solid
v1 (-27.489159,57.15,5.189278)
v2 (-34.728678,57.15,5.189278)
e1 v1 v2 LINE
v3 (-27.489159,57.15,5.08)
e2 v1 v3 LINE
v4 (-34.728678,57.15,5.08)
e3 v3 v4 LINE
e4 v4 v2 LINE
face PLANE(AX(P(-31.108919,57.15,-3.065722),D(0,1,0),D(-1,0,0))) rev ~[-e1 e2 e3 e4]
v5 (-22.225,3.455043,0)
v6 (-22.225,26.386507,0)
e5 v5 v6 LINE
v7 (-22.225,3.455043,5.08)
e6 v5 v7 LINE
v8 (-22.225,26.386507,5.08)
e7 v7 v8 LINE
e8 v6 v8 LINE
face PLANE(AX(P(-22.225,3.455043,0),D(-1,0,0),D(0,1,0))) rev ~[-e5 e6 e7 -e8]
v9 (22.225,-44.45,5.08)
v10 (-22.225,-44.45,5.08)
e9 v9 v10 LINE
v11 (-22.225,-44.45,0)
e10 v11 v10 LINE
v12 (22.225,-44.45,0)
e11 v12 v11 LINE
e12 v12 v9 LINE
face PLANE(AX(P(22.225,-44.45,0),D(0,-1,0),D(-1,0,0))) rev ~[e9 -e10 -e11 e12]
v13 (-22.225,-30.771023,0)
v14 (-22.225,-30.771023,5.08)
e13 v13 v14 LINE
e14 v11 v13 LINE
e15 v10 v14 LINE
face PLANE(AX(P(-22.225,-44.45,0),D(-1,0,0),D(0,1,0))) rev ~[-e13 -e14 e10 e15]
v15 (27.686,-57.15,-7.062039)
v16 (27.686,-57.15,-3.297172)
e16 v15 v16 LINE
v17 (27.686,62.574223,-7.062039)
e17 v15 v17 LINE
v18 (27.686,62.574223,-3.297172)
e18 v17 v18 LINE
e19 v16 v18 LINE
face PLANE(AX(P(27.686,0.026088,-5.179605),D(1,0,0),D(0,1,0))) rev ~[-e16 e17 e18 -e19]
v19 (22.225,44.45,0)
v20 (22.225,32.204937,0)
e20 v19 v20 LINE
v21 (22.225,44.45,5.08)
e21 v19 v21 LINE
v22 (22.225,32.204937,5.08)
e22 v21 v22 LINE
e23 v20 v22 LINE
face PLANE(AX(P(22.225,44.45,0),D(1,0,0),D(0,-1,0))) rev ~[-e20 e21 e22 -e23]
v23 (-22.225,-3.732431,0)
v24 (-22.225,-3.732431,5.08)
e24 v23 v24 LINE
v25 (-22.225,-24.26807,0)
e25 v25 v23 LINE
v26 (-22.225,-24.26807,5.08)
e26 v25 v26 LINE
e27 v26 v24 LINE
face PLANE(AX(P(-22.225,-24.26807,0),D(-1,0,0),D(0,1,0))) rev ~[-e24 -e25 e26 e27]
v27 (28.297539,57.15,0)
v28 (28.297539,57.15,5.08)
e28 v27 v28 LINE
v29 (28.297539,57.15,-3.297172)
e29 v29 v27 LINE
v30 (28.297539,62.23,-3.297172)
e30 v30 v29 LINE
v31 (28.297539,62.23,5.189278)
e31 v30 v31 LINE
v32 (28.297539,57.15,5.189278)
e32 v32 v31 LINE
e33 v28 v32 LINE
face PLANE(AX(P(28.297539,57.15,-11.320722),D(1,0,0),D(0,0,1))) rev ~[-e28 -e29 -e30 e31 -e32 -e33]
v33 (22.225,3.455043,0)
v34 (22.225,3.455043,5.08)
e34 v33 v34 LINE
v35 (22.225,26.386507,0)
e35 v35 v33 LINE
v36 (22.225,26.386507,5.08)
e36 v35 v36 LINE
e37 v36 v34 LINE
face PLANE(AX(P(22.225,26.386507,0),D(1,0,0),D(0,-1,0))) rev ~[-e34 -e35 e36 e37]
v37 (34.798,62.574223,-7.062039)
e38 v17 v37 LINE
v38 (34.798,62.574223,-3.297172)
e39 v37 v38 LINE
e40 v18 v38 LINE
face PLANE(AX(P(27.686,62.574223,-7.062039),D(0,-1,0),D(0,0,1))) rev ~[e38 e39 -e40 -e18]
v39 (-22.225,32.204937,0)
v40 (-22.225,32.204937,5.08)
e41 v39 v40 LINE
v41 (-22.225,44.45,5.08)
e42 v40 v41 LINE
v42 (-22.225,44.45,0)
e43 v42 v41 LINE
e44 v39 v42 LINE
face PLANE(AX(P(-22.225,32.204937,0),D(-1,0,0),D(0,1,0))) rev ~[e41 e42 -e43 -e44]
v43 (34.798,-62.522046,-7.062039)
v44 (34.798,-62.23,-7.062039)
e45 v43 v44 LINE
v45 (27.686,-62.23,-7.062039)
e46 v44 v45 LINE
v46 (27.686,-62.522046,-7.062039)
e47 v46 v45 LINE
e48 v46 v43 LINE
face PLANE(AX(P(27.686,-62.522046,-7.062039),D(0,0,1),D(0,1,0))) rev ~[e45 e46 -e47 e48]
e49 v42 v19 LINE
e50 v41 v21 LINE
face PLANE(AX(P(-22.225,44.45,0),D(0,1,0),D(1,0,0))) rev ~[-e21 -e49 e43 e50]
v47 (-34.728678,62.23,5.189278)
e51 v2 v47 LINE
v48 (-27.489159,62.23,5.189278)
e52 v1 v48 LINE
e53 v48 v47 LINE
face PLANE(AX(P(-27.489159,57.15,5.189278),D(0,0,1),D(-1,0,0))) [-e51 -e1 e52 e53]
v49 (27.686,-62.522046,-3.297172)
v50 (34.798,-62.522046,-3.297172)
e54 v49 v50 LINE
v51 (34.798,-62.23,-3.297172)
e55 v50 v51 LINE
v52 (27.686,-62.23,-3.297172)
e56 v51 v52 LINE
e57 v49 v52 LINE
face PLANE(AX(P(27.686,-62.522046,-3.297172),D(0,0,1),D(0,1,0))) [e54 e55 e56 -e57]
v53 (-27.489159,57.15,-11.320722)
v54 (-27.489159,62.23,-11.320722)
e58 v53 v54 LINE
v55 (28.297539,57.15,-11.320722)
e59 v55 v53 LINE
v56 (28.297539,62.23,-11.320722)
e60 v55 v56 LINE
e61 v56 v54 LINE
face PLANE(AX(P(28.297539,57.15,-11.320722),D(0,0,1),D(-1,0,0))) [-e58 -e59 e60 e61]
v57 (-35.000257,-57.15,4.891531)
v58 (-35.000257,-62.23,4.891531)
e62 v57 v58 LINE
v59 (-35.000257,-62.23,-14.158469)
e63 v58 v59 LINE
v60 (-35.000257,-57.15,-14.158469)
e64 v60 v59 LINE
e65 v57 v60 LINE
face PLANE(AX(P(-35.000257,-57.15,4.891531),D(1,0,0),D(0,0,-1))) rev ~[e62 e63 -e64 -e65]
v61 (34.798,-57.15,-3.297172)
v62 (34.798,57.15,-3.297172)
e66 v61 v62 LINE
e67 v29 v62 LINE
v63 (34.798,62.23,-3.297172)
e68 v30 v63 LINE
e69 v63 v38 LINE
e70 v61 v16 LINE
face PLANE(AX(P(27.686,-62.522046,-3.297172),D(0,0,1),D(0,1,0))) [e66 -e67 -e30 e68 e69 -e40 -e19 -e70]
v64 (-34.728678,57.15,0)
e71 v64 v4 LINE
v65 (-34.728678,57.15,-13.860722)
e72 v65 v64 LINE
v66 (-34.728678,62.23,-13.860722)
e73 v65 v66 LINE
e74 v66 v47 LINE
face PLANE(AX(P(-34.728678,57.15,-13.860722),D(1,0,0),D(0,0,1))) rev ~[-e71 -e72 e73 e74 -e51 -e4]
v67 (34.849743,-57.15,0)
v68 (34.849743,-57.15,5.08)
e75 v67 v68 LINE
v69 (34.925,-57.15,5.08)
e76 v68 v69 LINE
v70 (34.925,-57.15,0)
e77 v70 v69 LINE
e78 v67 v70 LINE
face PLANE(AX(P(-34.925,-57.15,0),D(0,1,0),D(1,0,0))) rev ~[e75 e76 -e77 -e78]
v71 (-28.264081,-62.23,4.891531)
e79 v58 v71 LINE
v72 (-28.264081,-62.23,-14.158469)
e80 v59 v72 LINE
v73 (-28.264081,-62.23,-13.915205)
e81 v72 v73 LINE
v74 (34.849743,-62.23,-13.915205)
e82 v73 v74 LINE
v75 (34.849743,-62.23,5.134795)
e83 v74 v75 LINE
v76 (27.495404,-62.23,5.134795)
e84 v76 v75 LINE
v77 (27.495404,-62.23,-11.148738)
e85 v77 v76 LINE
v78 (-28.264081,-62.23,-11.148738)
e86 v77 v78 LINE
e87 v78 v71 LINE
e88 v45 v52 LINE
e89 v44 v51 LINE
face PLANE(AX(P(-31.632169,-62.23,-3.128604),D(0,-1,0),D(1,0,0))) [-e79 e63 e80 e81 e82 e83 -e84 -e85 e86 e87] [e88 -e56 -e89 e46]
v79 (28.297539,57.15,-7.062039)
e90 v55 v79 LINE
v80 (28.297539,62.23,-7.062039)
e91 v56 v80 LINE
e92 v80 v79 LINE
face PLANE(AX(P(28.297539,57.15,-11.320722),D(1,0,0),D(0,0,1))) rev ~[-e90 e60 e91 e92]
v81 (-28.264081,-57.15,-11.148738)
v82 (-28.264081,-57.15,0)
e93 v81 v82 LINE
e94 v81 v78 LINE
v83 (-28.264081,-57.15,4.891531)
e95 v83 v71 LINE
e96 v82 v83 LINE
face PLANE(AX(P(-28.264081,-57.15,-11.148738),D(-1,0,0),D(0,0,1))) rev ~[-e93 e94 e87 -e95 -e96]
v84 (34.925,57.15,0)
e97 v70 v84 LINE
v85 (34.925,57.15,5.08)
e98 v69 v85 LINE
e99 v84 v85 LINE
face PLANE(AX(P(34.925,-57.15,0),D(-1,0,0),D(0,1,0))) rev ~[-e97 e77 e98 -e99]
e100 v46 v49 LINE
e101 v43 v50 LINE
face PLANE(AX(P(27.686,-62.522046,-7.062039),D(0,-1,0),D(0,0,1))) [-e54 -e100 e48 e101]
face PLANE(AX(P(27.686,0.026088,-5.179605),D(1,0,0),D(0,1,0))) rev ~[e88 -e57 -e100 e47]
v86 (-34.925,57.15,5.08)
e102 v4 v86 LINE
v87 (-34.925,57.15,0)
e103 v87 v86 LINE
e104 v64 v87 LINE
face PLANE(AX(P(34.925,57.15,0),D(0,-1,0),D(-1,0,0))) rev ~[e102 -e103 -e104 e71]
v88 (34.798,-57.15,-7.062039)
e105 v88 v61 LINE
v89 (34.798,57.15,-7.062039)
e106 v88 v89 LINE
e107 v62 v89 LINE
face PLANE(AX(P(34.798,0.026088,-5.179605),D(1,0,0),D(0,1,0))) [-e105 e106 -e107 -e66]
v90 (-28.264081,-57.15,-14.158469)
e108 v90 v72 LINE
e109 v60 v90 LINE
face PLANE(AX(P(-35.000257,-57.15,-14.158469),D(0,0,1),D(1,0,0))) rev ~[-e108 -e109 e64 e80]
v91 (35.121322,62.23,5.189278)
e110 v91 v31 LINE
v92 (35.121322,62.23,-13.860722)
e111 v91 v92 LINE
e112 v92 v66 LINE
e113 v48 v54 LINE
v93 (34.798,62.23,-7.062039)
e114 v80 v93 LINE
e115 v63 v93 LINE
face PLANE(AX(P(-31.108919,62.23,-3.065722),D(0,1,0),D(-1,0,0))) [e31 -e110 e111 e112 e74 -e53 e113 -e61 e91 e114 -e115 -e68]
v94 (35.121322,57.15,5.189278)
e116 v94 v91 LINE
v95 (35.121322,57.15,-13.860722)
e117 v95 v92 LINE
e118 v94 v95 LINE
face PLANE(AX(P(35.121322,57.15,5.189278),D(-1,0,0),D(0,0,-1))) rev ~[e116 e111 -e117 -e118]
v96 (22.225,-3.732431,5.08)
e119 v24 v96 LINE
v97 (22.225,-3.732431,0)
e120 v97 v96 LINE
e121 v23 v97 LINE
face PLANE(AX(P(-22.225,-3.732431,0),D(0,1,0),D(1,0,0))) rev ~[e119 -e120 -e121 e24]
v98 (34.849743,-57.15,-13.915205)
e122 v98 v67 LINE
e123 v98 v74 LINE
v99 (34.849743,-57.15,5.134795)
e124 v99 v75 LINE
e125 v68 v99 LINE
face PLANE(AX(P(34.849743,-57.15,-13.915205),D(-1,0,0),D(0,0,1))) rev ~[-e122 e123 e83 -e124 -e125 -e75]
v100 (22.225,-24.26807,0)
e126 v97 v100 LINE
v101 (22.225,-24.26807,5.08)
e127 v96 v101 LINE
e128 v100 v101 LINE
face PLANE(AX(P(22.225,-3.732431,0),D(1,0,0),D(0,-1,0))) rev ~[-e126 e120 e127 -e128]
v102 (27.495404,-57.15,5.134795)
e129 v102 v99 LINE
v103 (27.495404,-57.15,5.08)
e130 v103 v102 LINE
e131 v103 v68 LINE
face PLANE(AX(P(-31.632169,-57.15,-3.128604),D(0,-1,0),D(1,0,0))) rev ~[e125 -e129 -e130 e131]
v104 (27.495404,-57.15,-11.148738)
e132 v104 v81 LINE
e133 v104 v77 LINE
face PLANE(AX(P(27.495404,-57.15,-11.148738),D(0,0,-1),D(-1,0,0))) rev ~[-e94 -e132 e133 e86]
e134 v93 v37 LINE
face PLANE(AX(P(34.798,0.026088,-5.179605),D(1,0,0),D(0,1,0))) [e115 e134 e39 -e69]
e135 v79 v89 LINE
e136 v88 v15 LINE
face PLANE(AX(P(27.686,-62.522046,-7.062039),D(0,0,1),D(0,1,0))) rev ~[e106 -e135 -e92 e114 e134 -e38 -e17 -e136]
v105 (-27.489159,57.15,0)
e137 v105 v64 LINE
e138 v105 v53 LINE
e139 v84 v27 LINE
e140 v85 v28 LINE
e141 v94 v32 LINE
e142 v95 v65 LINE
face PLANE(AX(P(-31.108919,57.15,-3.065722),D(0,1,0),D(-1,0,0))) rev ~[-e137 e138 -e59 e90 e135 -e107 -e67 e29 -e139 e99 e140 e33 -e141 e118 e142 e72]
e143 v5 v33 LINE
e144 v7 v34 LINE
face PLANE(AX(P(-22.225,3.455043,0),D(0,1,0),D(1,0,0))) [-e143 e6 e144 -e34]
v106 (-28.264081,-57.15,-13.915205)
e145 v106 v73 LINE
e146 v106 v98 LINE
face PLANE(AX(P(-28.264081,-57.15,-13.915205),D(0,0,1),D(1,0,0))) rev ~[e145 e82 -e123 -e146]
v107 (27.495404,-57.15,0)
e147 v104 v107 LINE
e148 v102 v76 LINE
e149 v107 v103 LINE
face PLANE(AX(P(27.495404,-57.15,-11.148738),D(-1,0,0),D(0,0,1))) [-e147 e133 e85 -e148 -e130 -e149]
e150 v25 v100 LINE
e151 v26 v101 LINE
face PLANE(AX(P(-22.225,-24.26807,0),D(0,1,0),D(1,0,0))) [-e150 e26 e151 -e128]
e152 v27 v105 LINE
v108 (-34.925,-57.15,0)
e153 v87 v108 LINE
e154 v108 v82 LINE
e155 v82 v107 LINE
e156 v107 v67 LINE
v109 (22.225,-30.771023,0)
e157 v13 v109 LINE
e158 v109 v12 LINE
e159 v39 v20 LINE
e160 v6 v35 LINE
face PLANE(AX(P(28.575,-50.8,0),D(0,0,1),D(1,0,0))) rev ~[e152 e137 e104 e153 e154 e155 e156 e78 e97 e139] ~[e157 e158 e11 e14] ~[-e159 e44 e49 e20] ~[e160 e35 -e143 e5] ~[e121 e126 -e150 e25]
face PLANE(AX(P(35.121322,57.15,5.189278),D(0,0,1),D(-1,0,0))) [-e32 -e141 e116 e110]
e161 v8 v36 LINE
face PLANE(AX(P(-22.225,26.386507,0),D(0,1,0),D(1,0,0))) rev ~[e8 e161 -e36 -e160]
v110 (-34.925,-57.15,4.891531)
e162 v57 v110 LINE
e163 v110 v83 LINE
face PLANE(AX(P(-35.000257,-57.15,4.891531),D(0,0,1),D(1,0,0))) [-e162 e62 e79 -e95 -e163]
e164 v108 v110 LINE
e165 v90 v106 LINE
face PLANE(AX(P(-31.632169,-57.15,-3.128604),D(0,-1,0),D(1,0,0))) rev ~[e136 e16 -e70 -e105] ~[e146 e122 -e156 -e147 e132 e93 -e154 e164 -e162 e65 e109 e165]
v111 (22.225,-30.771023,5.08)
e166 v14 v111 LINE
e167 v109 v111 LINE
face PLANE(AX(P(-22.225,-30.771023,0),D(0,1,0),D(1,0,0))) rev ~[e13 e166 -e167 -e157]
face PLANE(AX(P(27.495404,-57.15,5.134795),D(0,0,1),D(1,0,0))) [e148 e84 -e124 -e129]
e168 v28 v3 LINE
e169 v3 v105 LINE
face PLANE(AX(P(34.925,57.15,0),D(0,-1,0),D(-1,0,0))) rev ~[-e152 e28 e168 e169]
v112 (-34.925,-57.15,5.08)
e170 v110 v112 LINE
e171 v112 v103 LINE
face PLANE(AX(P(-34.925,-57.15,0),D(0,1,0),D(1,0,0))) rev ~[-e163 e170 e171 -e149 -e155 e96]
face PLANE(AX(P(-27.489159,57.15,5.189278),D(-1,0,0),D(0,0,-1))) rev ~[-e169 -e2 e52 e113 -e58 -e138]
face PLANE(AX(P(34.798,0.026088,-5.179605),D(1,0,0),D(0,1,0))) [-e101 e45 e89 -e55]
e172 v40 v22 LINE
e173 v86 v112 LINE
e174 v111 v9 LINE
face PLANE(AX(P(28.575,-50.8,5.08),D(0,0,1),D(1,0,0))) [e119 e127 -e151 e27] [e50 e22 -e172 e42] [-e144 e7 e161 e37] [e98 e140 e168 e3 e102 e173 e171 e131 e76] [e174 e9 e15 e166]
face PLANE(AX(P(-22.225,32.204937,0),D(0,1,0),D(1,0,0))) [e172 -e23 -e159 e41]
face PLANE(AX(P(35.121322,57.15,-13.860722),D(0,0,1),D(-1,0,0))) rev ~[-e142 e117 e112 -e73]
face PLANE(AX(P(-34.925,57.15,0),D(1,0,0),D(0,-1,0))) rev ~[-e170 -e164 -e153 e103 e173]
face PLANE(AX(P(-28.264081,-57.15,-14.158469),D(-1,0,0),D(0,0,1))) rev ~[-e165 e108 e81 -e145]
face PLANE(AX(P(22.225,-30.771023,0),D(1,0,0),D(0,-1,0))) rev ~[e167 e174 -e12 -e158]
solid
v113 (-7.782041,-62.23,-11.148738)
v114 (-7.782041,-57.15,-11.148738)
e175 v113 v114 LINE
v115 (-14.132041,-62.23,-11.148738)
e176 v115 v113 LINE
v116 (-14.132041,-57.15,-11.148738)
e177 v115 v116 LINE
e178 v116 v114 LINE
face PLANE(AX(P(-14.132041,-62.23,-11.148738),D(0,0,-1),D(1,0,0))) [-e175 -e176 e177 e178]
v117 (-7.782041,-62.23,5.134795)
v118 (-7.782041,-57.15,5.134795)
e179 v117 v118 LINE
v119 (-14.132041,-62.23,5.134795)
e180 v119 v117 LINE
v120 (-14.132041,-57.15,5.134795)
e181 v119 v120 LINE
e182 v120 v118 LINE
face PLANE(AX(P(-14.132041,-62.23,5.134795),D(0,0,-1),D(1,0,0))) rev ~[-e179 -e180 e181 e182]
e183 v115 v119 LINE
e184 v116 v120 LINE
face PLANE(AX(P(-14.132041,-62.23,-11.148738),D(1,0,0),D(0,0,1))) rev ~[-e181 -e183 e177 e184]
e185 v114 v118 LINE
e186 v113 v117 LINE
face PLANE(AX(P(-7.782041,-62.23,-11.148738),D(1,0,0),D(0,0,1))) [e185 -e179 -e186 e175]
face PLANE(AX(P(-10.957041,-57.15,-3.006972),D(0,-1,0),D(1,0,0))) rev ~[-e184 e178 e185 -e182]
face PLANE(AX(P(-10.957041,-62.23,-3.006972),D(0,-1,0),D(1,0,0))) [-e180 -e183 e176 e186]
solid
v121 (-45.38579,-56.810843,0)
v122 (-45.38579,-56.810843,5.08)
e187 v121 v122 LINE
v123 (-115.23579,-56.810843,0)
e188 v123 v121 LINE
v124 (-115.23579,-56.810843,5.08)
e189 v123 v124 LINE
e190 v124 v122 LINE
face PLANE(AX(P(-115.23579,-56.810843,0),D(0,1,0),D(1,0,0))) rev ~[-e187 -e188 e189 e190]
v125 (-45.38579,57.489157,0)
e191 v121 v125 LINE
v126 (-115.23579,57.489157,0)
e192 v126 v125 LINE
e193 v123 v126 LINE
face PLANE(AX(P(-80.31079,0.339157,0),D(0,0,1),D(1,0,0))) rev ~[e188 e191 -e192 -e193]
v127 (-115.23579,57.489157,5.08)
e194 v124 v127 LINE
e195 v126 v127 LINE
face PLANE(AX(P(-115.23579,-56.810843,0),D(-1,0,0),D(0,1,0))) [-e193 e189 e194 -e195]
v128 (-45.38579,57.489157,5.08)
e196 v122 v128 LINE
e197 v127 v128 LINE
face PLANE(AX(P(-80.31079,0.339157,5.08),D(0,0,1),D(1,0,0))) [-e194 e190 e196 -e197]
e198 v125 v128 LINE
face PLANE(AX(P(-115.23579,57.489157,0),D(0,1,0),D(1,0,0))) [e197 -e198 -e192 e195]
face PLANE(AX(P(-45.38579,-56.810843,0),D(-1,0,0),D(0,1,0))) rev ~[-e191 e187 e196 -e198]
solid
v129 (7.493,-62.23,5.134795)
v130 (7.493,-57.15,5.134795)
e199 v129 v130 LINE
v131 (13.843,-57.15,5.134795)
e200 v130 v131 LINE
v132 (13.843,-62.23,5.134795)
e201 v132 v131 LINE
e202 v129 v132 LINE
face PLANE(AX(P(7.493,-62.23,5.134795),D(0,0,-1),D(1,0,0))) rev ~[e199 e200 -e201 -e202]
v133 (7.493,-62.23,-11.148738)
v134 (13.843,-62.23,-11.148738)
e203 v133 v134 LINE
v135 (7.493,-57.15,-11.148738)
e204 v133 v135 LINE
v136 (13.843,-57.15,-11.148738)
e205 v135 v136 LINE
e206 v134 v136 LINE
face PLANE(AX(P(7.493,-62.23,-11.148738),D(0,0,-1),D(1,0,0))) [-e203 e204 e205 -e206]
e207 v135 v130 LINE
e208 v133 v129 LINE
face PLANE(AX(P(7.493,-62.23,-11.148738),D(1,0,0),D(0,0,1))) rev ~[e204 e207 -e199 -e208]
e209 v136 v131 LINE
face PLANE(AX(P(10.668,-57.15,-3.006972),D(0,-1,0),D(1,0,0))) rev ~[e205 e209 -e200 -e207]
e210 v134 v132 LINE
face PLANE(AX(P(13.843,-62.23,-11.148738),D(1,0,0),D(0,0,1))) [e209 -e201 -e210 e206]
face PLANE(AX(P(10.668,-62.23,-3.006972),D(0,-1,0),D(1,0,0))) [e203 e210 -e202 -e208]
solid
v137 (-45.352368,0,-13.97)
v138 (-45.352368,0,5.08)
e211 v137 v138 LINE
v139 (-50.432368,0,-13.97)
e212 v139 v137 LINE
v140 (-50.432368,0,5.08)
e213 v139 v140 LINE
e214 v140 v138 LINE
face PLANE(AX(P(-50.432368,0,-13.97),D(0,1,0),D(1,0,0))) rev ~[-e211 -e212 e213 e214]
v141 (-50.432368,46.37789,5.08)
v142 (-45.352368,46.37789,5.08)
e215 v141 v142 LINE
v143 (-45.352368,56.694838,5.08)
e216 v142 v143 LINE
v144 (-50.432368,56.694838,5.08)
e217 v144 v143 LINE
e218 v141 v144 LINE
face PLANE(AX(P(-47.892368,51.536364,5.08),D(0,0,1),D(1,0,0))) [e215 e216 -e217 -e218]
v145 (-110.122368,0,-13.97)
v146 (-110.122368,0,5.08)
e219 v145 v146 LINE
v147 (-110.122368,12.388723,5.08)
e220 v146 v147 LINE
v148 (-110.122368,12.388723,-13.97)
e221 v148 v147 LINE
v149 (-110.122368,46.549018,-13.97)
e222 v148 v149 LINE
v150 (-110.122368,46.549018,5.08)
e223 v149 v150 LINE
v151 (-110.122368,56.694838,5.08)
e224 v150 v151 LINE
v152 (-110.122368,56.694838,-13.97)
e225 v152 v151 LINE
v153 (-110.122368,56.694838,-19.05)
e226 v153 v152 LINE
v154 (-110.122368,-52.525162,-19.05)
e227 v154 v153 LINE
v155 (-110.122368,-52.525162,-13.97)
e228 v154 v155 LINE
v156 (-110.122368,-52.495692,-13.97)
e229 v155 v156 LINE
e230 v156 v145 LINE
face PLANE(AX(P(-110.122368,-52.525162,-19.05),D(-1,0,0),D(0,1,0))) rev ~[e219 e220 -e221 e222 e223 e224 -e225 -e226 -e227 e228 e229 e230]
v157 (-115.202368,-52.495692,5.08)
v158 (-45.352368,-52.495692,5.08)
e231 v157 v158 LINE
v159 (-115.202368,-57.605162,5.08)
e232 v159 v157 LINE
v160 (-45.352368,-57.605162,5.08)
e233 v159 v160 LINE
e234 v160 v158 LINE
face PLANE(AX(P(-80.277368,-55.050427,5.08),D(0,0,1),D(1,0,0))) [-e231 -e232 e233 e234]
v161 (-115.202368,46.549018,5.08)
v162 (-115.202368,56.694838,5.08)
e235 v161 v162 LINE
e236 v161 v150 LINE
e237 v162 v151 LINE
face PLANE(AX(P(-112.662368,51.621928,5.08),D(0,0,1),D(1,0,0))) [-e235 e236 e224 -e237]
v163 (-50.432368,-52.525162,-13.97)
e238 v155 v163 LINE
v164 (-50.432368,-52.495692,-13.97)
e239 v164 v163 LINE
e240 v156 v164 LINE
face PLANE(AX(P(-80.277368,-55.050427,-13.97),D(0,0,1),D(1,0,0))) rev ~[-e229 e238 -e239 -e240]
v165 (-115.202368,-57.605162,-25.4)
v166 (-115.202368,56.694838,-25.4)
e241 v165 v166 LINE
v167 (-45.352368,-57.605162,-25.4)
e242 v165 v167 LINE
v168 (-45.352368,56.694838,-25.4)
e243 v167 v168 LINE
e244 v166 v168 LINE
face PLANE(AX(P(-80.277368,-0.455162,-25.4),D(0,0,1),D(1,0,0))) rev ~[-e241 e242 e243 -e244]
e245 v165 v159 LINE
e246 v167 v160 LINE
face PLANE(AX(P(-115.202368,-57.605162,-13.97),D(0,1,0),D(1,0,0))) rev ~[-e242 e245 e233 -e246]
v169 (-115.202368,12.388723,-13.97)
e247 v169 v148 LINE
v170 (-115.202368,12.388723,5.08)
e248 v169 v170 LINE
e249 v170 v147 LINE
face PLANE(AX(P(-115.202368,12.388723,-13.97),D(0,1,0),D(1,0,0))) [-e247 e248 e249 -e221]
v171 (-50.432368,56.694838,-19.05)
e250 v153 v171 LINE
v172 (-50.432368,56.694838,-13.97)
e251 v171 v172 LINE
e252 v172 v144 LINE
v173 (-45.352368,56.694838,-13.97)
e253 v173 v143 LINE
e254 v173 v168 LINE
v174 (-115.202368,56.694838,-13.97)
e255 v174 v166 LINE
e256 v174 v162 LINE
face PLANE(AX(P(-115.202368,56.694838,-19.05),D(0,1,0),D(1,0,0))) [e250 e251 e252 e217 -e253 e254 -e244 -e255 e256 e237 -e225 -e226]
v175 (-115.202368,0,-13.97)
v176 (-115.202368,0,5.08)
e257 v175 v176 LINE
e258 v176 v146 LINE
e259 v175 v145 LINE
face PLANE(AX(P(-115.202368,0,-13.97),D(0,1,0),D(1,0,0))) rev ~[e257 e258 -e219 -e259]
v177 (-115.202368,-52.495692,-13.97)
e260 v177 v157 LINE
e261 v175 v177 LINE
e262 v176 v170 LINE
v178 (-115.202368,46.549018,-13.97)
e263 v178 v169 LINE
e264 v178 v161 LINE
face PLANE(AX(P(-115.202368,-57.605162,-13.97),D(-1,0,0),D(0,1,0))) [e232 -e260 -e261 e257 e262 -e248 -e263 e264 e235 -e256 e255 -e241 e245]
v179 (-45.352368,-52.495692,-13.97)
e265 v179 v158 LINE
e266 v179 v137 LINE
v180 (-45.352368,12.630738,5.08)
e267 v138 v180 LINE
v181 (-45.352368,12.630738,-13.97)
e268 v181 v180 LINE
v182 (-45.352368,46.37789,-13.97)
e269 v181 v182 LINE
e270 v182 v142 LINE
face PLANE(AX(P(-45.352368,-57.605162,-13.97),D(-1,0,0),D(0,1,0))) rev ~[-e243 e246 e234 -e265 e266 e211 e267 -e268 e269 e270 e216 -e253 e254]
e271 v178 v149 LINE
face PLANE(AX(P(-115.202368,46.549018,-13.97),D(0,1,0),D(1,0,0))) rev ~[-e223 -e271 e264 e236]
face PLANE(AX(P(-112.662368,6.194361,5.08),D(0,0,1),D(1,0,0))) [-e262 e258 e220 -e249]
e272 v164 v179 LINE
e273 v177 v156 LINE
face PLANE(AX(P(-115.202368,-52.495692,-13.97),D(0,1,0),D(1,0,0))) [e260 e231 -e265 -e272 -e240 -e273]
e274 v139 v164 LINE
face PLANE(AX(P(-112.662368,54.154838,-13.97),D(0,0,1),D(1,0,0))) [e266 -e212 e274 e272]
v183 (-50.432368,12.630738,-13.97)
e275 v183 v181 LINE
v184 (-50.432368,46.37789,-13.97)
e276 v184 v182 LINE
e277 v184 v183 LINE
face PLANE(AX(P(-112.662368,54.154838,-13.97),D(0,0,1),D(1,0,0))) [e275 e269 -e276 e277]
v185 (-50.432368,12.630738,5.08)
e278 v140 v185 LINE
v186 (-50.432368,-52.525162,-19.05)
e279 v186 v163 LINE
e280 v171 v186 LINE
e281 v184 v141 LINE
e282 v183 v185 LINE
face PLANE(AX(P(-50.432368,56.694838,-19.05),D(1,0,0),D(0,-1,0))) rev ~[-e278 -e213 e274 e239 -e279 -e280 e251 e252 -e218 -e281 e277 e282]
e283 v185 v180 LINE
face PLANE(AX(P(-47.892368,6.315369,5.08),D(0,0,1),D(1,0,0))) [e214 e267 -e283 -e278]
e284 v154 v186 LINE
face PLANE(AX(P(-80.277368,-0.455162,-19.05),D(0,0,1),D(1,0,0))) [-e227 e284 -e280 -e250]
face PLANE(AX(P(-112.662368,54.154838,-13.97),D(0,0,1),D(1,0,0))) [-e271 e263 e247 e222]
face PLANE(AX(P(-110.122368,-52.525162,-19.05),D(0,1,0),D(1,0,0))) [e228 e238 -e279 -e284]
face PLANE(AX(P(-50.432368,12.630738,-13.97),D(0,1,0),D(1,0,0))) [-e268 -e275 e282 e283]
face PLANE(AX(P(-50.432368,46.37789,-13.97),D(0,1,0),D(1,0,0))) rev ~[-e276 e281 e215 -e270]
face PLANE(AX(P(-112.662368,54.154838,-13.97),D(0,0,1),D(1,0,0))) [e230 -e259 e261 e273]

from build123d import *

# Parameters (mm, degrees)
F0_W      = 69.85
F0_H      = 114.3
F1_DEPTH  = 5.08
F3_W      = 69.85
F3_H      = 114.3
F4_DEPTH  = 6.35
F7_W      = 12.7
F7_H      = 12.7
F7_W_2    = 44.45
F7_H_2    = 5.8184303343
F7_H_3    = 7.1874738205
F7_H_4    = 6.5029524267
F8_DEPTH  = 5.08
F9_W      = 6.7361761562
F9_H      = 16.0402691672
F9_H_2    = 2.7664669489
F9_W_2    = 55.7594845613
F9_H_3    = 0.2432638838
F9_W_3    = 7.3543392825
F9_H_4    = 16.2835330511
F10_DEPTH = 5.08
F11_W     = 7.239518579
F11_H     = 16.51
F11_H_2   = 2.54
F11_W_2   = 55.786697957
F11_W_3   = 6.823783464
F12_DEPTH = 5.08
F13_W     = 5.08
F13_H     = 5.08
F13_H_2   = 104.14
F13_W_2   = 59.69
F14_DEPTH = 5.08
F15_W     = 69.85
F15_H     = 5.1094701806
F15_W_2   = 5.08
F15_H_2   = 12.3887229711
F15_H_3   = 12.630738318
F15_H_4   = 10.1458194217
F15_H_5   = 10.3169480821
F16_DEPTH = 19.05
F18_W     = 125.0962689519
F18_H     = 3.7648670841
F19_DEPTH = 7.112
F20_W     = 6.35
F20_H     = 16.2835330511
F21_DEPTH = 5.08


with BuildPart() as f1:
    # F0 (on Top) → F1 (new body)
    with BuildSketch(Plane.XY):
        with Locations((-80.3107898682, 0.339157423)):
            Rectangle(F0_W, F0_H)
    extrude(amount=F1_DEPTH)


with BuildPart() as f4:
    # F3 (on offset) → F4 (new body)
    with BuildSketch(Plane.XY.offset(-25.4)):
        with Locations((-80.2773684263, -0.4551621059)):
            Rectangle(F3_W, F3_H)
    extrude(amount=F4_DEPTH)

    # F13 (on face) → F14 (join)
    with BuildSketch(Plane.XY.offset(-19.05)):
        with Locations((-112.6623684263, 54.1548378941)):
            Rectangle(F13_W, F13_H)
        with Locations((-112.6623684263, -55.0651621059)):
            Rectangle(F13_W, F13_H)
        with Locations((-47.8923684263, 54.1548378941)):
            Rectangle(F13_W, F13_H)
        with Locations((-47.8923684263, -55.0651621059)):
            Rectangle(F13_W, F13_H)
        with Locations((-112.6623684263, -0.4551621059)):
            Rectangle(F13_W, F13_H_2)
        with Locations((-47.8923684263, -0.4551621059)):
            Rectangle(F13_W, F13_H_2)
        with Locations((-80.2773684263, -55.0651621059)):
            Rectangle(F13_W_2, F13_H)
    extrude(amount=F14_DEPTH)

    # F15 (on face) → F16 (join)
    with BuildSketch(Plane.XY.offset(-13.97)):
        with Locations((-80.2773684263, -55.0504270156)):
            Rectangle(F15_W, F15_H)
        with Locations((-112.6623684263, 6.1943614855)):
            Rectangle(F15_W_2, F15_H_2)
        with Locations((-47.8923684263, 6.315369159)):
            Rectangle(F15_W_2, F15_H_3)
        with Locations((-112.6623684263, 51.6219281833)):
            Rectangle(F15_W_2, F15_H_4)
        with Locations((-47.8923684263, 51.536363853)):
            Rectangle(F15_W_2, F15_H_5)
    extrude(amount=F16_DEPTH)


with BuildPart() as f8:
    # F7 (on Top) → F8 (new body)
    with BuildSketch(Plane.XY):
        with Locations((28.575, -50.8)):
            Rectangle(F7_W, F7_H)
        with Locations((0, -50.8)):
            Rectangle(F7_W_2, F7_H)
        Polygon((22.225, -44.45), (34.925, -44.45), (34.925, 44.45), (22.225, 44.45), (22.225, 32.2049371898), (22.225, 26.3865068555), (22.225, 3.4550426062), (22.225, -3.7324312143), (22.225, -24.2680702358), (22.225, -30.7710226625), align=None)
        with Locations((-28.575, -50.8)):
            Rectangle(F7_W, F7_H)
        with Locations((28.575, 50.8)):
            Rectangle(F7_W, F7_H)
        Polygon((-34.925, -44.45), (-22.225, -44.45), (-22.225, -30.7710226625), (-22.225, -24.2680702358), (-22.225, -3.7324312143), (-22.225, 3.4550426062), (-22.225, 26.3865068555), (-22.225, 32.2049371898), (-22.225, 44.45), (-34.925, 44.45), align=None)
        with Locations((0, 50.8)):
            Rectangle(F7_W_2, F7_H)
        with Locations((-28.575, 50.8)):
            Rectangle(F7_W, F7_H)
        with Locations((0, 29.2957220227)):
            Rectangle(F7_W_2, F7_H_2)
        with Locations((0, -0.138694304)):
            Rectangle(F7_W_2, F7_H_3)
        with Locations((0, -27.5195464492)):
            Rectangle(F7_W_2, F7_H_4)
    extrude(amount=F8_DEPTH)

    # F9 (on offset) → F10 (join)
    with BuildSketch(Plane.XZ.offset(57.15)):
        with Locations((-31.632169116, -3.1286035073)):
            Rectangle(F9_W, F9_H)
        with Locations((-31.632169116, -12.5319715654)):
            Rectangle(F9_W, F9_H_2)
        with Locations((-0.3843387572, -12.5319715654)):
            Rectangle(F9_W_2, F9_H_2)
        with Locations((-31.632169116, -14.0368369818)):
            Rectangle(F9_W, F9_H_3)
        with Locations((31.1725731647, -12.5319715654)):
            Rectangle(F9_W_3, F9_H_2)
        with Locations((31.1725731647, -3.0069715654)):
            Rectangle(F9_W_3, F9_H_4)
    extrude(amount=F10_DEPTH)

    # F11 (on face) → F12 (join)
    with BuildSketch(Plane(origin=(0, 57.15, 0), x_dir=(-1, 0, 0), z_dir=(0, 1, 0))):
        with Locations((31.1089185799, -3.0657224204)):
            Rectangle(F11_W, F11_H)
        with Locations((31.1089185799, -12.5907224204)):
            Rectangle(F11_W, F11_H_2)
        with Locations((-0.404189688, -12.5907224204)):
            Rectangle(F11_W_2, F11_H_2)
        with Locations((-31.7094303986, -3.0657224204)):
            Rectangle(F11_W_3, F11_H)
        with Locations((-31.7094303986, -12.5907224204)):
            Rectangle(F11_W_3, F11_H_2)
    extrude(amount=F12_DEPTH)

    # F18 (on offset) → F19 (join)
    with BuildSketch(Plane.YZ.offset(27.686)):
        with Locations((0.026088208, -5.1796053303)):
            Rectangle(F18_W, F18_H)
    extrude(amount=F19_DEPTH)


with BuildPart() as f21:
    # F20 (on face) → F21 (new body)
    with BuildSketch(Plane.XZ.offset(62.23)):
        with Locations((-10.9570405189, -3.0069715654)):
            Rectangle(F20_W, F20_H)
    extrude(amount=-F21_DEPTH)


with BuildPart() as f21b:
    # F20 (on face) → F21, piece 2 (new body)
    with BuildSketch(Plane.XZ.offset(62.23)):
        with Locations((10.668, -3.0069715654)):
            Rectangle(F20_W, F20_H)
    extrude(amount=-F21_DEPTH)


solid = Compound([f1.part, f4.part, f8.part, f21.part, f21b.part])
